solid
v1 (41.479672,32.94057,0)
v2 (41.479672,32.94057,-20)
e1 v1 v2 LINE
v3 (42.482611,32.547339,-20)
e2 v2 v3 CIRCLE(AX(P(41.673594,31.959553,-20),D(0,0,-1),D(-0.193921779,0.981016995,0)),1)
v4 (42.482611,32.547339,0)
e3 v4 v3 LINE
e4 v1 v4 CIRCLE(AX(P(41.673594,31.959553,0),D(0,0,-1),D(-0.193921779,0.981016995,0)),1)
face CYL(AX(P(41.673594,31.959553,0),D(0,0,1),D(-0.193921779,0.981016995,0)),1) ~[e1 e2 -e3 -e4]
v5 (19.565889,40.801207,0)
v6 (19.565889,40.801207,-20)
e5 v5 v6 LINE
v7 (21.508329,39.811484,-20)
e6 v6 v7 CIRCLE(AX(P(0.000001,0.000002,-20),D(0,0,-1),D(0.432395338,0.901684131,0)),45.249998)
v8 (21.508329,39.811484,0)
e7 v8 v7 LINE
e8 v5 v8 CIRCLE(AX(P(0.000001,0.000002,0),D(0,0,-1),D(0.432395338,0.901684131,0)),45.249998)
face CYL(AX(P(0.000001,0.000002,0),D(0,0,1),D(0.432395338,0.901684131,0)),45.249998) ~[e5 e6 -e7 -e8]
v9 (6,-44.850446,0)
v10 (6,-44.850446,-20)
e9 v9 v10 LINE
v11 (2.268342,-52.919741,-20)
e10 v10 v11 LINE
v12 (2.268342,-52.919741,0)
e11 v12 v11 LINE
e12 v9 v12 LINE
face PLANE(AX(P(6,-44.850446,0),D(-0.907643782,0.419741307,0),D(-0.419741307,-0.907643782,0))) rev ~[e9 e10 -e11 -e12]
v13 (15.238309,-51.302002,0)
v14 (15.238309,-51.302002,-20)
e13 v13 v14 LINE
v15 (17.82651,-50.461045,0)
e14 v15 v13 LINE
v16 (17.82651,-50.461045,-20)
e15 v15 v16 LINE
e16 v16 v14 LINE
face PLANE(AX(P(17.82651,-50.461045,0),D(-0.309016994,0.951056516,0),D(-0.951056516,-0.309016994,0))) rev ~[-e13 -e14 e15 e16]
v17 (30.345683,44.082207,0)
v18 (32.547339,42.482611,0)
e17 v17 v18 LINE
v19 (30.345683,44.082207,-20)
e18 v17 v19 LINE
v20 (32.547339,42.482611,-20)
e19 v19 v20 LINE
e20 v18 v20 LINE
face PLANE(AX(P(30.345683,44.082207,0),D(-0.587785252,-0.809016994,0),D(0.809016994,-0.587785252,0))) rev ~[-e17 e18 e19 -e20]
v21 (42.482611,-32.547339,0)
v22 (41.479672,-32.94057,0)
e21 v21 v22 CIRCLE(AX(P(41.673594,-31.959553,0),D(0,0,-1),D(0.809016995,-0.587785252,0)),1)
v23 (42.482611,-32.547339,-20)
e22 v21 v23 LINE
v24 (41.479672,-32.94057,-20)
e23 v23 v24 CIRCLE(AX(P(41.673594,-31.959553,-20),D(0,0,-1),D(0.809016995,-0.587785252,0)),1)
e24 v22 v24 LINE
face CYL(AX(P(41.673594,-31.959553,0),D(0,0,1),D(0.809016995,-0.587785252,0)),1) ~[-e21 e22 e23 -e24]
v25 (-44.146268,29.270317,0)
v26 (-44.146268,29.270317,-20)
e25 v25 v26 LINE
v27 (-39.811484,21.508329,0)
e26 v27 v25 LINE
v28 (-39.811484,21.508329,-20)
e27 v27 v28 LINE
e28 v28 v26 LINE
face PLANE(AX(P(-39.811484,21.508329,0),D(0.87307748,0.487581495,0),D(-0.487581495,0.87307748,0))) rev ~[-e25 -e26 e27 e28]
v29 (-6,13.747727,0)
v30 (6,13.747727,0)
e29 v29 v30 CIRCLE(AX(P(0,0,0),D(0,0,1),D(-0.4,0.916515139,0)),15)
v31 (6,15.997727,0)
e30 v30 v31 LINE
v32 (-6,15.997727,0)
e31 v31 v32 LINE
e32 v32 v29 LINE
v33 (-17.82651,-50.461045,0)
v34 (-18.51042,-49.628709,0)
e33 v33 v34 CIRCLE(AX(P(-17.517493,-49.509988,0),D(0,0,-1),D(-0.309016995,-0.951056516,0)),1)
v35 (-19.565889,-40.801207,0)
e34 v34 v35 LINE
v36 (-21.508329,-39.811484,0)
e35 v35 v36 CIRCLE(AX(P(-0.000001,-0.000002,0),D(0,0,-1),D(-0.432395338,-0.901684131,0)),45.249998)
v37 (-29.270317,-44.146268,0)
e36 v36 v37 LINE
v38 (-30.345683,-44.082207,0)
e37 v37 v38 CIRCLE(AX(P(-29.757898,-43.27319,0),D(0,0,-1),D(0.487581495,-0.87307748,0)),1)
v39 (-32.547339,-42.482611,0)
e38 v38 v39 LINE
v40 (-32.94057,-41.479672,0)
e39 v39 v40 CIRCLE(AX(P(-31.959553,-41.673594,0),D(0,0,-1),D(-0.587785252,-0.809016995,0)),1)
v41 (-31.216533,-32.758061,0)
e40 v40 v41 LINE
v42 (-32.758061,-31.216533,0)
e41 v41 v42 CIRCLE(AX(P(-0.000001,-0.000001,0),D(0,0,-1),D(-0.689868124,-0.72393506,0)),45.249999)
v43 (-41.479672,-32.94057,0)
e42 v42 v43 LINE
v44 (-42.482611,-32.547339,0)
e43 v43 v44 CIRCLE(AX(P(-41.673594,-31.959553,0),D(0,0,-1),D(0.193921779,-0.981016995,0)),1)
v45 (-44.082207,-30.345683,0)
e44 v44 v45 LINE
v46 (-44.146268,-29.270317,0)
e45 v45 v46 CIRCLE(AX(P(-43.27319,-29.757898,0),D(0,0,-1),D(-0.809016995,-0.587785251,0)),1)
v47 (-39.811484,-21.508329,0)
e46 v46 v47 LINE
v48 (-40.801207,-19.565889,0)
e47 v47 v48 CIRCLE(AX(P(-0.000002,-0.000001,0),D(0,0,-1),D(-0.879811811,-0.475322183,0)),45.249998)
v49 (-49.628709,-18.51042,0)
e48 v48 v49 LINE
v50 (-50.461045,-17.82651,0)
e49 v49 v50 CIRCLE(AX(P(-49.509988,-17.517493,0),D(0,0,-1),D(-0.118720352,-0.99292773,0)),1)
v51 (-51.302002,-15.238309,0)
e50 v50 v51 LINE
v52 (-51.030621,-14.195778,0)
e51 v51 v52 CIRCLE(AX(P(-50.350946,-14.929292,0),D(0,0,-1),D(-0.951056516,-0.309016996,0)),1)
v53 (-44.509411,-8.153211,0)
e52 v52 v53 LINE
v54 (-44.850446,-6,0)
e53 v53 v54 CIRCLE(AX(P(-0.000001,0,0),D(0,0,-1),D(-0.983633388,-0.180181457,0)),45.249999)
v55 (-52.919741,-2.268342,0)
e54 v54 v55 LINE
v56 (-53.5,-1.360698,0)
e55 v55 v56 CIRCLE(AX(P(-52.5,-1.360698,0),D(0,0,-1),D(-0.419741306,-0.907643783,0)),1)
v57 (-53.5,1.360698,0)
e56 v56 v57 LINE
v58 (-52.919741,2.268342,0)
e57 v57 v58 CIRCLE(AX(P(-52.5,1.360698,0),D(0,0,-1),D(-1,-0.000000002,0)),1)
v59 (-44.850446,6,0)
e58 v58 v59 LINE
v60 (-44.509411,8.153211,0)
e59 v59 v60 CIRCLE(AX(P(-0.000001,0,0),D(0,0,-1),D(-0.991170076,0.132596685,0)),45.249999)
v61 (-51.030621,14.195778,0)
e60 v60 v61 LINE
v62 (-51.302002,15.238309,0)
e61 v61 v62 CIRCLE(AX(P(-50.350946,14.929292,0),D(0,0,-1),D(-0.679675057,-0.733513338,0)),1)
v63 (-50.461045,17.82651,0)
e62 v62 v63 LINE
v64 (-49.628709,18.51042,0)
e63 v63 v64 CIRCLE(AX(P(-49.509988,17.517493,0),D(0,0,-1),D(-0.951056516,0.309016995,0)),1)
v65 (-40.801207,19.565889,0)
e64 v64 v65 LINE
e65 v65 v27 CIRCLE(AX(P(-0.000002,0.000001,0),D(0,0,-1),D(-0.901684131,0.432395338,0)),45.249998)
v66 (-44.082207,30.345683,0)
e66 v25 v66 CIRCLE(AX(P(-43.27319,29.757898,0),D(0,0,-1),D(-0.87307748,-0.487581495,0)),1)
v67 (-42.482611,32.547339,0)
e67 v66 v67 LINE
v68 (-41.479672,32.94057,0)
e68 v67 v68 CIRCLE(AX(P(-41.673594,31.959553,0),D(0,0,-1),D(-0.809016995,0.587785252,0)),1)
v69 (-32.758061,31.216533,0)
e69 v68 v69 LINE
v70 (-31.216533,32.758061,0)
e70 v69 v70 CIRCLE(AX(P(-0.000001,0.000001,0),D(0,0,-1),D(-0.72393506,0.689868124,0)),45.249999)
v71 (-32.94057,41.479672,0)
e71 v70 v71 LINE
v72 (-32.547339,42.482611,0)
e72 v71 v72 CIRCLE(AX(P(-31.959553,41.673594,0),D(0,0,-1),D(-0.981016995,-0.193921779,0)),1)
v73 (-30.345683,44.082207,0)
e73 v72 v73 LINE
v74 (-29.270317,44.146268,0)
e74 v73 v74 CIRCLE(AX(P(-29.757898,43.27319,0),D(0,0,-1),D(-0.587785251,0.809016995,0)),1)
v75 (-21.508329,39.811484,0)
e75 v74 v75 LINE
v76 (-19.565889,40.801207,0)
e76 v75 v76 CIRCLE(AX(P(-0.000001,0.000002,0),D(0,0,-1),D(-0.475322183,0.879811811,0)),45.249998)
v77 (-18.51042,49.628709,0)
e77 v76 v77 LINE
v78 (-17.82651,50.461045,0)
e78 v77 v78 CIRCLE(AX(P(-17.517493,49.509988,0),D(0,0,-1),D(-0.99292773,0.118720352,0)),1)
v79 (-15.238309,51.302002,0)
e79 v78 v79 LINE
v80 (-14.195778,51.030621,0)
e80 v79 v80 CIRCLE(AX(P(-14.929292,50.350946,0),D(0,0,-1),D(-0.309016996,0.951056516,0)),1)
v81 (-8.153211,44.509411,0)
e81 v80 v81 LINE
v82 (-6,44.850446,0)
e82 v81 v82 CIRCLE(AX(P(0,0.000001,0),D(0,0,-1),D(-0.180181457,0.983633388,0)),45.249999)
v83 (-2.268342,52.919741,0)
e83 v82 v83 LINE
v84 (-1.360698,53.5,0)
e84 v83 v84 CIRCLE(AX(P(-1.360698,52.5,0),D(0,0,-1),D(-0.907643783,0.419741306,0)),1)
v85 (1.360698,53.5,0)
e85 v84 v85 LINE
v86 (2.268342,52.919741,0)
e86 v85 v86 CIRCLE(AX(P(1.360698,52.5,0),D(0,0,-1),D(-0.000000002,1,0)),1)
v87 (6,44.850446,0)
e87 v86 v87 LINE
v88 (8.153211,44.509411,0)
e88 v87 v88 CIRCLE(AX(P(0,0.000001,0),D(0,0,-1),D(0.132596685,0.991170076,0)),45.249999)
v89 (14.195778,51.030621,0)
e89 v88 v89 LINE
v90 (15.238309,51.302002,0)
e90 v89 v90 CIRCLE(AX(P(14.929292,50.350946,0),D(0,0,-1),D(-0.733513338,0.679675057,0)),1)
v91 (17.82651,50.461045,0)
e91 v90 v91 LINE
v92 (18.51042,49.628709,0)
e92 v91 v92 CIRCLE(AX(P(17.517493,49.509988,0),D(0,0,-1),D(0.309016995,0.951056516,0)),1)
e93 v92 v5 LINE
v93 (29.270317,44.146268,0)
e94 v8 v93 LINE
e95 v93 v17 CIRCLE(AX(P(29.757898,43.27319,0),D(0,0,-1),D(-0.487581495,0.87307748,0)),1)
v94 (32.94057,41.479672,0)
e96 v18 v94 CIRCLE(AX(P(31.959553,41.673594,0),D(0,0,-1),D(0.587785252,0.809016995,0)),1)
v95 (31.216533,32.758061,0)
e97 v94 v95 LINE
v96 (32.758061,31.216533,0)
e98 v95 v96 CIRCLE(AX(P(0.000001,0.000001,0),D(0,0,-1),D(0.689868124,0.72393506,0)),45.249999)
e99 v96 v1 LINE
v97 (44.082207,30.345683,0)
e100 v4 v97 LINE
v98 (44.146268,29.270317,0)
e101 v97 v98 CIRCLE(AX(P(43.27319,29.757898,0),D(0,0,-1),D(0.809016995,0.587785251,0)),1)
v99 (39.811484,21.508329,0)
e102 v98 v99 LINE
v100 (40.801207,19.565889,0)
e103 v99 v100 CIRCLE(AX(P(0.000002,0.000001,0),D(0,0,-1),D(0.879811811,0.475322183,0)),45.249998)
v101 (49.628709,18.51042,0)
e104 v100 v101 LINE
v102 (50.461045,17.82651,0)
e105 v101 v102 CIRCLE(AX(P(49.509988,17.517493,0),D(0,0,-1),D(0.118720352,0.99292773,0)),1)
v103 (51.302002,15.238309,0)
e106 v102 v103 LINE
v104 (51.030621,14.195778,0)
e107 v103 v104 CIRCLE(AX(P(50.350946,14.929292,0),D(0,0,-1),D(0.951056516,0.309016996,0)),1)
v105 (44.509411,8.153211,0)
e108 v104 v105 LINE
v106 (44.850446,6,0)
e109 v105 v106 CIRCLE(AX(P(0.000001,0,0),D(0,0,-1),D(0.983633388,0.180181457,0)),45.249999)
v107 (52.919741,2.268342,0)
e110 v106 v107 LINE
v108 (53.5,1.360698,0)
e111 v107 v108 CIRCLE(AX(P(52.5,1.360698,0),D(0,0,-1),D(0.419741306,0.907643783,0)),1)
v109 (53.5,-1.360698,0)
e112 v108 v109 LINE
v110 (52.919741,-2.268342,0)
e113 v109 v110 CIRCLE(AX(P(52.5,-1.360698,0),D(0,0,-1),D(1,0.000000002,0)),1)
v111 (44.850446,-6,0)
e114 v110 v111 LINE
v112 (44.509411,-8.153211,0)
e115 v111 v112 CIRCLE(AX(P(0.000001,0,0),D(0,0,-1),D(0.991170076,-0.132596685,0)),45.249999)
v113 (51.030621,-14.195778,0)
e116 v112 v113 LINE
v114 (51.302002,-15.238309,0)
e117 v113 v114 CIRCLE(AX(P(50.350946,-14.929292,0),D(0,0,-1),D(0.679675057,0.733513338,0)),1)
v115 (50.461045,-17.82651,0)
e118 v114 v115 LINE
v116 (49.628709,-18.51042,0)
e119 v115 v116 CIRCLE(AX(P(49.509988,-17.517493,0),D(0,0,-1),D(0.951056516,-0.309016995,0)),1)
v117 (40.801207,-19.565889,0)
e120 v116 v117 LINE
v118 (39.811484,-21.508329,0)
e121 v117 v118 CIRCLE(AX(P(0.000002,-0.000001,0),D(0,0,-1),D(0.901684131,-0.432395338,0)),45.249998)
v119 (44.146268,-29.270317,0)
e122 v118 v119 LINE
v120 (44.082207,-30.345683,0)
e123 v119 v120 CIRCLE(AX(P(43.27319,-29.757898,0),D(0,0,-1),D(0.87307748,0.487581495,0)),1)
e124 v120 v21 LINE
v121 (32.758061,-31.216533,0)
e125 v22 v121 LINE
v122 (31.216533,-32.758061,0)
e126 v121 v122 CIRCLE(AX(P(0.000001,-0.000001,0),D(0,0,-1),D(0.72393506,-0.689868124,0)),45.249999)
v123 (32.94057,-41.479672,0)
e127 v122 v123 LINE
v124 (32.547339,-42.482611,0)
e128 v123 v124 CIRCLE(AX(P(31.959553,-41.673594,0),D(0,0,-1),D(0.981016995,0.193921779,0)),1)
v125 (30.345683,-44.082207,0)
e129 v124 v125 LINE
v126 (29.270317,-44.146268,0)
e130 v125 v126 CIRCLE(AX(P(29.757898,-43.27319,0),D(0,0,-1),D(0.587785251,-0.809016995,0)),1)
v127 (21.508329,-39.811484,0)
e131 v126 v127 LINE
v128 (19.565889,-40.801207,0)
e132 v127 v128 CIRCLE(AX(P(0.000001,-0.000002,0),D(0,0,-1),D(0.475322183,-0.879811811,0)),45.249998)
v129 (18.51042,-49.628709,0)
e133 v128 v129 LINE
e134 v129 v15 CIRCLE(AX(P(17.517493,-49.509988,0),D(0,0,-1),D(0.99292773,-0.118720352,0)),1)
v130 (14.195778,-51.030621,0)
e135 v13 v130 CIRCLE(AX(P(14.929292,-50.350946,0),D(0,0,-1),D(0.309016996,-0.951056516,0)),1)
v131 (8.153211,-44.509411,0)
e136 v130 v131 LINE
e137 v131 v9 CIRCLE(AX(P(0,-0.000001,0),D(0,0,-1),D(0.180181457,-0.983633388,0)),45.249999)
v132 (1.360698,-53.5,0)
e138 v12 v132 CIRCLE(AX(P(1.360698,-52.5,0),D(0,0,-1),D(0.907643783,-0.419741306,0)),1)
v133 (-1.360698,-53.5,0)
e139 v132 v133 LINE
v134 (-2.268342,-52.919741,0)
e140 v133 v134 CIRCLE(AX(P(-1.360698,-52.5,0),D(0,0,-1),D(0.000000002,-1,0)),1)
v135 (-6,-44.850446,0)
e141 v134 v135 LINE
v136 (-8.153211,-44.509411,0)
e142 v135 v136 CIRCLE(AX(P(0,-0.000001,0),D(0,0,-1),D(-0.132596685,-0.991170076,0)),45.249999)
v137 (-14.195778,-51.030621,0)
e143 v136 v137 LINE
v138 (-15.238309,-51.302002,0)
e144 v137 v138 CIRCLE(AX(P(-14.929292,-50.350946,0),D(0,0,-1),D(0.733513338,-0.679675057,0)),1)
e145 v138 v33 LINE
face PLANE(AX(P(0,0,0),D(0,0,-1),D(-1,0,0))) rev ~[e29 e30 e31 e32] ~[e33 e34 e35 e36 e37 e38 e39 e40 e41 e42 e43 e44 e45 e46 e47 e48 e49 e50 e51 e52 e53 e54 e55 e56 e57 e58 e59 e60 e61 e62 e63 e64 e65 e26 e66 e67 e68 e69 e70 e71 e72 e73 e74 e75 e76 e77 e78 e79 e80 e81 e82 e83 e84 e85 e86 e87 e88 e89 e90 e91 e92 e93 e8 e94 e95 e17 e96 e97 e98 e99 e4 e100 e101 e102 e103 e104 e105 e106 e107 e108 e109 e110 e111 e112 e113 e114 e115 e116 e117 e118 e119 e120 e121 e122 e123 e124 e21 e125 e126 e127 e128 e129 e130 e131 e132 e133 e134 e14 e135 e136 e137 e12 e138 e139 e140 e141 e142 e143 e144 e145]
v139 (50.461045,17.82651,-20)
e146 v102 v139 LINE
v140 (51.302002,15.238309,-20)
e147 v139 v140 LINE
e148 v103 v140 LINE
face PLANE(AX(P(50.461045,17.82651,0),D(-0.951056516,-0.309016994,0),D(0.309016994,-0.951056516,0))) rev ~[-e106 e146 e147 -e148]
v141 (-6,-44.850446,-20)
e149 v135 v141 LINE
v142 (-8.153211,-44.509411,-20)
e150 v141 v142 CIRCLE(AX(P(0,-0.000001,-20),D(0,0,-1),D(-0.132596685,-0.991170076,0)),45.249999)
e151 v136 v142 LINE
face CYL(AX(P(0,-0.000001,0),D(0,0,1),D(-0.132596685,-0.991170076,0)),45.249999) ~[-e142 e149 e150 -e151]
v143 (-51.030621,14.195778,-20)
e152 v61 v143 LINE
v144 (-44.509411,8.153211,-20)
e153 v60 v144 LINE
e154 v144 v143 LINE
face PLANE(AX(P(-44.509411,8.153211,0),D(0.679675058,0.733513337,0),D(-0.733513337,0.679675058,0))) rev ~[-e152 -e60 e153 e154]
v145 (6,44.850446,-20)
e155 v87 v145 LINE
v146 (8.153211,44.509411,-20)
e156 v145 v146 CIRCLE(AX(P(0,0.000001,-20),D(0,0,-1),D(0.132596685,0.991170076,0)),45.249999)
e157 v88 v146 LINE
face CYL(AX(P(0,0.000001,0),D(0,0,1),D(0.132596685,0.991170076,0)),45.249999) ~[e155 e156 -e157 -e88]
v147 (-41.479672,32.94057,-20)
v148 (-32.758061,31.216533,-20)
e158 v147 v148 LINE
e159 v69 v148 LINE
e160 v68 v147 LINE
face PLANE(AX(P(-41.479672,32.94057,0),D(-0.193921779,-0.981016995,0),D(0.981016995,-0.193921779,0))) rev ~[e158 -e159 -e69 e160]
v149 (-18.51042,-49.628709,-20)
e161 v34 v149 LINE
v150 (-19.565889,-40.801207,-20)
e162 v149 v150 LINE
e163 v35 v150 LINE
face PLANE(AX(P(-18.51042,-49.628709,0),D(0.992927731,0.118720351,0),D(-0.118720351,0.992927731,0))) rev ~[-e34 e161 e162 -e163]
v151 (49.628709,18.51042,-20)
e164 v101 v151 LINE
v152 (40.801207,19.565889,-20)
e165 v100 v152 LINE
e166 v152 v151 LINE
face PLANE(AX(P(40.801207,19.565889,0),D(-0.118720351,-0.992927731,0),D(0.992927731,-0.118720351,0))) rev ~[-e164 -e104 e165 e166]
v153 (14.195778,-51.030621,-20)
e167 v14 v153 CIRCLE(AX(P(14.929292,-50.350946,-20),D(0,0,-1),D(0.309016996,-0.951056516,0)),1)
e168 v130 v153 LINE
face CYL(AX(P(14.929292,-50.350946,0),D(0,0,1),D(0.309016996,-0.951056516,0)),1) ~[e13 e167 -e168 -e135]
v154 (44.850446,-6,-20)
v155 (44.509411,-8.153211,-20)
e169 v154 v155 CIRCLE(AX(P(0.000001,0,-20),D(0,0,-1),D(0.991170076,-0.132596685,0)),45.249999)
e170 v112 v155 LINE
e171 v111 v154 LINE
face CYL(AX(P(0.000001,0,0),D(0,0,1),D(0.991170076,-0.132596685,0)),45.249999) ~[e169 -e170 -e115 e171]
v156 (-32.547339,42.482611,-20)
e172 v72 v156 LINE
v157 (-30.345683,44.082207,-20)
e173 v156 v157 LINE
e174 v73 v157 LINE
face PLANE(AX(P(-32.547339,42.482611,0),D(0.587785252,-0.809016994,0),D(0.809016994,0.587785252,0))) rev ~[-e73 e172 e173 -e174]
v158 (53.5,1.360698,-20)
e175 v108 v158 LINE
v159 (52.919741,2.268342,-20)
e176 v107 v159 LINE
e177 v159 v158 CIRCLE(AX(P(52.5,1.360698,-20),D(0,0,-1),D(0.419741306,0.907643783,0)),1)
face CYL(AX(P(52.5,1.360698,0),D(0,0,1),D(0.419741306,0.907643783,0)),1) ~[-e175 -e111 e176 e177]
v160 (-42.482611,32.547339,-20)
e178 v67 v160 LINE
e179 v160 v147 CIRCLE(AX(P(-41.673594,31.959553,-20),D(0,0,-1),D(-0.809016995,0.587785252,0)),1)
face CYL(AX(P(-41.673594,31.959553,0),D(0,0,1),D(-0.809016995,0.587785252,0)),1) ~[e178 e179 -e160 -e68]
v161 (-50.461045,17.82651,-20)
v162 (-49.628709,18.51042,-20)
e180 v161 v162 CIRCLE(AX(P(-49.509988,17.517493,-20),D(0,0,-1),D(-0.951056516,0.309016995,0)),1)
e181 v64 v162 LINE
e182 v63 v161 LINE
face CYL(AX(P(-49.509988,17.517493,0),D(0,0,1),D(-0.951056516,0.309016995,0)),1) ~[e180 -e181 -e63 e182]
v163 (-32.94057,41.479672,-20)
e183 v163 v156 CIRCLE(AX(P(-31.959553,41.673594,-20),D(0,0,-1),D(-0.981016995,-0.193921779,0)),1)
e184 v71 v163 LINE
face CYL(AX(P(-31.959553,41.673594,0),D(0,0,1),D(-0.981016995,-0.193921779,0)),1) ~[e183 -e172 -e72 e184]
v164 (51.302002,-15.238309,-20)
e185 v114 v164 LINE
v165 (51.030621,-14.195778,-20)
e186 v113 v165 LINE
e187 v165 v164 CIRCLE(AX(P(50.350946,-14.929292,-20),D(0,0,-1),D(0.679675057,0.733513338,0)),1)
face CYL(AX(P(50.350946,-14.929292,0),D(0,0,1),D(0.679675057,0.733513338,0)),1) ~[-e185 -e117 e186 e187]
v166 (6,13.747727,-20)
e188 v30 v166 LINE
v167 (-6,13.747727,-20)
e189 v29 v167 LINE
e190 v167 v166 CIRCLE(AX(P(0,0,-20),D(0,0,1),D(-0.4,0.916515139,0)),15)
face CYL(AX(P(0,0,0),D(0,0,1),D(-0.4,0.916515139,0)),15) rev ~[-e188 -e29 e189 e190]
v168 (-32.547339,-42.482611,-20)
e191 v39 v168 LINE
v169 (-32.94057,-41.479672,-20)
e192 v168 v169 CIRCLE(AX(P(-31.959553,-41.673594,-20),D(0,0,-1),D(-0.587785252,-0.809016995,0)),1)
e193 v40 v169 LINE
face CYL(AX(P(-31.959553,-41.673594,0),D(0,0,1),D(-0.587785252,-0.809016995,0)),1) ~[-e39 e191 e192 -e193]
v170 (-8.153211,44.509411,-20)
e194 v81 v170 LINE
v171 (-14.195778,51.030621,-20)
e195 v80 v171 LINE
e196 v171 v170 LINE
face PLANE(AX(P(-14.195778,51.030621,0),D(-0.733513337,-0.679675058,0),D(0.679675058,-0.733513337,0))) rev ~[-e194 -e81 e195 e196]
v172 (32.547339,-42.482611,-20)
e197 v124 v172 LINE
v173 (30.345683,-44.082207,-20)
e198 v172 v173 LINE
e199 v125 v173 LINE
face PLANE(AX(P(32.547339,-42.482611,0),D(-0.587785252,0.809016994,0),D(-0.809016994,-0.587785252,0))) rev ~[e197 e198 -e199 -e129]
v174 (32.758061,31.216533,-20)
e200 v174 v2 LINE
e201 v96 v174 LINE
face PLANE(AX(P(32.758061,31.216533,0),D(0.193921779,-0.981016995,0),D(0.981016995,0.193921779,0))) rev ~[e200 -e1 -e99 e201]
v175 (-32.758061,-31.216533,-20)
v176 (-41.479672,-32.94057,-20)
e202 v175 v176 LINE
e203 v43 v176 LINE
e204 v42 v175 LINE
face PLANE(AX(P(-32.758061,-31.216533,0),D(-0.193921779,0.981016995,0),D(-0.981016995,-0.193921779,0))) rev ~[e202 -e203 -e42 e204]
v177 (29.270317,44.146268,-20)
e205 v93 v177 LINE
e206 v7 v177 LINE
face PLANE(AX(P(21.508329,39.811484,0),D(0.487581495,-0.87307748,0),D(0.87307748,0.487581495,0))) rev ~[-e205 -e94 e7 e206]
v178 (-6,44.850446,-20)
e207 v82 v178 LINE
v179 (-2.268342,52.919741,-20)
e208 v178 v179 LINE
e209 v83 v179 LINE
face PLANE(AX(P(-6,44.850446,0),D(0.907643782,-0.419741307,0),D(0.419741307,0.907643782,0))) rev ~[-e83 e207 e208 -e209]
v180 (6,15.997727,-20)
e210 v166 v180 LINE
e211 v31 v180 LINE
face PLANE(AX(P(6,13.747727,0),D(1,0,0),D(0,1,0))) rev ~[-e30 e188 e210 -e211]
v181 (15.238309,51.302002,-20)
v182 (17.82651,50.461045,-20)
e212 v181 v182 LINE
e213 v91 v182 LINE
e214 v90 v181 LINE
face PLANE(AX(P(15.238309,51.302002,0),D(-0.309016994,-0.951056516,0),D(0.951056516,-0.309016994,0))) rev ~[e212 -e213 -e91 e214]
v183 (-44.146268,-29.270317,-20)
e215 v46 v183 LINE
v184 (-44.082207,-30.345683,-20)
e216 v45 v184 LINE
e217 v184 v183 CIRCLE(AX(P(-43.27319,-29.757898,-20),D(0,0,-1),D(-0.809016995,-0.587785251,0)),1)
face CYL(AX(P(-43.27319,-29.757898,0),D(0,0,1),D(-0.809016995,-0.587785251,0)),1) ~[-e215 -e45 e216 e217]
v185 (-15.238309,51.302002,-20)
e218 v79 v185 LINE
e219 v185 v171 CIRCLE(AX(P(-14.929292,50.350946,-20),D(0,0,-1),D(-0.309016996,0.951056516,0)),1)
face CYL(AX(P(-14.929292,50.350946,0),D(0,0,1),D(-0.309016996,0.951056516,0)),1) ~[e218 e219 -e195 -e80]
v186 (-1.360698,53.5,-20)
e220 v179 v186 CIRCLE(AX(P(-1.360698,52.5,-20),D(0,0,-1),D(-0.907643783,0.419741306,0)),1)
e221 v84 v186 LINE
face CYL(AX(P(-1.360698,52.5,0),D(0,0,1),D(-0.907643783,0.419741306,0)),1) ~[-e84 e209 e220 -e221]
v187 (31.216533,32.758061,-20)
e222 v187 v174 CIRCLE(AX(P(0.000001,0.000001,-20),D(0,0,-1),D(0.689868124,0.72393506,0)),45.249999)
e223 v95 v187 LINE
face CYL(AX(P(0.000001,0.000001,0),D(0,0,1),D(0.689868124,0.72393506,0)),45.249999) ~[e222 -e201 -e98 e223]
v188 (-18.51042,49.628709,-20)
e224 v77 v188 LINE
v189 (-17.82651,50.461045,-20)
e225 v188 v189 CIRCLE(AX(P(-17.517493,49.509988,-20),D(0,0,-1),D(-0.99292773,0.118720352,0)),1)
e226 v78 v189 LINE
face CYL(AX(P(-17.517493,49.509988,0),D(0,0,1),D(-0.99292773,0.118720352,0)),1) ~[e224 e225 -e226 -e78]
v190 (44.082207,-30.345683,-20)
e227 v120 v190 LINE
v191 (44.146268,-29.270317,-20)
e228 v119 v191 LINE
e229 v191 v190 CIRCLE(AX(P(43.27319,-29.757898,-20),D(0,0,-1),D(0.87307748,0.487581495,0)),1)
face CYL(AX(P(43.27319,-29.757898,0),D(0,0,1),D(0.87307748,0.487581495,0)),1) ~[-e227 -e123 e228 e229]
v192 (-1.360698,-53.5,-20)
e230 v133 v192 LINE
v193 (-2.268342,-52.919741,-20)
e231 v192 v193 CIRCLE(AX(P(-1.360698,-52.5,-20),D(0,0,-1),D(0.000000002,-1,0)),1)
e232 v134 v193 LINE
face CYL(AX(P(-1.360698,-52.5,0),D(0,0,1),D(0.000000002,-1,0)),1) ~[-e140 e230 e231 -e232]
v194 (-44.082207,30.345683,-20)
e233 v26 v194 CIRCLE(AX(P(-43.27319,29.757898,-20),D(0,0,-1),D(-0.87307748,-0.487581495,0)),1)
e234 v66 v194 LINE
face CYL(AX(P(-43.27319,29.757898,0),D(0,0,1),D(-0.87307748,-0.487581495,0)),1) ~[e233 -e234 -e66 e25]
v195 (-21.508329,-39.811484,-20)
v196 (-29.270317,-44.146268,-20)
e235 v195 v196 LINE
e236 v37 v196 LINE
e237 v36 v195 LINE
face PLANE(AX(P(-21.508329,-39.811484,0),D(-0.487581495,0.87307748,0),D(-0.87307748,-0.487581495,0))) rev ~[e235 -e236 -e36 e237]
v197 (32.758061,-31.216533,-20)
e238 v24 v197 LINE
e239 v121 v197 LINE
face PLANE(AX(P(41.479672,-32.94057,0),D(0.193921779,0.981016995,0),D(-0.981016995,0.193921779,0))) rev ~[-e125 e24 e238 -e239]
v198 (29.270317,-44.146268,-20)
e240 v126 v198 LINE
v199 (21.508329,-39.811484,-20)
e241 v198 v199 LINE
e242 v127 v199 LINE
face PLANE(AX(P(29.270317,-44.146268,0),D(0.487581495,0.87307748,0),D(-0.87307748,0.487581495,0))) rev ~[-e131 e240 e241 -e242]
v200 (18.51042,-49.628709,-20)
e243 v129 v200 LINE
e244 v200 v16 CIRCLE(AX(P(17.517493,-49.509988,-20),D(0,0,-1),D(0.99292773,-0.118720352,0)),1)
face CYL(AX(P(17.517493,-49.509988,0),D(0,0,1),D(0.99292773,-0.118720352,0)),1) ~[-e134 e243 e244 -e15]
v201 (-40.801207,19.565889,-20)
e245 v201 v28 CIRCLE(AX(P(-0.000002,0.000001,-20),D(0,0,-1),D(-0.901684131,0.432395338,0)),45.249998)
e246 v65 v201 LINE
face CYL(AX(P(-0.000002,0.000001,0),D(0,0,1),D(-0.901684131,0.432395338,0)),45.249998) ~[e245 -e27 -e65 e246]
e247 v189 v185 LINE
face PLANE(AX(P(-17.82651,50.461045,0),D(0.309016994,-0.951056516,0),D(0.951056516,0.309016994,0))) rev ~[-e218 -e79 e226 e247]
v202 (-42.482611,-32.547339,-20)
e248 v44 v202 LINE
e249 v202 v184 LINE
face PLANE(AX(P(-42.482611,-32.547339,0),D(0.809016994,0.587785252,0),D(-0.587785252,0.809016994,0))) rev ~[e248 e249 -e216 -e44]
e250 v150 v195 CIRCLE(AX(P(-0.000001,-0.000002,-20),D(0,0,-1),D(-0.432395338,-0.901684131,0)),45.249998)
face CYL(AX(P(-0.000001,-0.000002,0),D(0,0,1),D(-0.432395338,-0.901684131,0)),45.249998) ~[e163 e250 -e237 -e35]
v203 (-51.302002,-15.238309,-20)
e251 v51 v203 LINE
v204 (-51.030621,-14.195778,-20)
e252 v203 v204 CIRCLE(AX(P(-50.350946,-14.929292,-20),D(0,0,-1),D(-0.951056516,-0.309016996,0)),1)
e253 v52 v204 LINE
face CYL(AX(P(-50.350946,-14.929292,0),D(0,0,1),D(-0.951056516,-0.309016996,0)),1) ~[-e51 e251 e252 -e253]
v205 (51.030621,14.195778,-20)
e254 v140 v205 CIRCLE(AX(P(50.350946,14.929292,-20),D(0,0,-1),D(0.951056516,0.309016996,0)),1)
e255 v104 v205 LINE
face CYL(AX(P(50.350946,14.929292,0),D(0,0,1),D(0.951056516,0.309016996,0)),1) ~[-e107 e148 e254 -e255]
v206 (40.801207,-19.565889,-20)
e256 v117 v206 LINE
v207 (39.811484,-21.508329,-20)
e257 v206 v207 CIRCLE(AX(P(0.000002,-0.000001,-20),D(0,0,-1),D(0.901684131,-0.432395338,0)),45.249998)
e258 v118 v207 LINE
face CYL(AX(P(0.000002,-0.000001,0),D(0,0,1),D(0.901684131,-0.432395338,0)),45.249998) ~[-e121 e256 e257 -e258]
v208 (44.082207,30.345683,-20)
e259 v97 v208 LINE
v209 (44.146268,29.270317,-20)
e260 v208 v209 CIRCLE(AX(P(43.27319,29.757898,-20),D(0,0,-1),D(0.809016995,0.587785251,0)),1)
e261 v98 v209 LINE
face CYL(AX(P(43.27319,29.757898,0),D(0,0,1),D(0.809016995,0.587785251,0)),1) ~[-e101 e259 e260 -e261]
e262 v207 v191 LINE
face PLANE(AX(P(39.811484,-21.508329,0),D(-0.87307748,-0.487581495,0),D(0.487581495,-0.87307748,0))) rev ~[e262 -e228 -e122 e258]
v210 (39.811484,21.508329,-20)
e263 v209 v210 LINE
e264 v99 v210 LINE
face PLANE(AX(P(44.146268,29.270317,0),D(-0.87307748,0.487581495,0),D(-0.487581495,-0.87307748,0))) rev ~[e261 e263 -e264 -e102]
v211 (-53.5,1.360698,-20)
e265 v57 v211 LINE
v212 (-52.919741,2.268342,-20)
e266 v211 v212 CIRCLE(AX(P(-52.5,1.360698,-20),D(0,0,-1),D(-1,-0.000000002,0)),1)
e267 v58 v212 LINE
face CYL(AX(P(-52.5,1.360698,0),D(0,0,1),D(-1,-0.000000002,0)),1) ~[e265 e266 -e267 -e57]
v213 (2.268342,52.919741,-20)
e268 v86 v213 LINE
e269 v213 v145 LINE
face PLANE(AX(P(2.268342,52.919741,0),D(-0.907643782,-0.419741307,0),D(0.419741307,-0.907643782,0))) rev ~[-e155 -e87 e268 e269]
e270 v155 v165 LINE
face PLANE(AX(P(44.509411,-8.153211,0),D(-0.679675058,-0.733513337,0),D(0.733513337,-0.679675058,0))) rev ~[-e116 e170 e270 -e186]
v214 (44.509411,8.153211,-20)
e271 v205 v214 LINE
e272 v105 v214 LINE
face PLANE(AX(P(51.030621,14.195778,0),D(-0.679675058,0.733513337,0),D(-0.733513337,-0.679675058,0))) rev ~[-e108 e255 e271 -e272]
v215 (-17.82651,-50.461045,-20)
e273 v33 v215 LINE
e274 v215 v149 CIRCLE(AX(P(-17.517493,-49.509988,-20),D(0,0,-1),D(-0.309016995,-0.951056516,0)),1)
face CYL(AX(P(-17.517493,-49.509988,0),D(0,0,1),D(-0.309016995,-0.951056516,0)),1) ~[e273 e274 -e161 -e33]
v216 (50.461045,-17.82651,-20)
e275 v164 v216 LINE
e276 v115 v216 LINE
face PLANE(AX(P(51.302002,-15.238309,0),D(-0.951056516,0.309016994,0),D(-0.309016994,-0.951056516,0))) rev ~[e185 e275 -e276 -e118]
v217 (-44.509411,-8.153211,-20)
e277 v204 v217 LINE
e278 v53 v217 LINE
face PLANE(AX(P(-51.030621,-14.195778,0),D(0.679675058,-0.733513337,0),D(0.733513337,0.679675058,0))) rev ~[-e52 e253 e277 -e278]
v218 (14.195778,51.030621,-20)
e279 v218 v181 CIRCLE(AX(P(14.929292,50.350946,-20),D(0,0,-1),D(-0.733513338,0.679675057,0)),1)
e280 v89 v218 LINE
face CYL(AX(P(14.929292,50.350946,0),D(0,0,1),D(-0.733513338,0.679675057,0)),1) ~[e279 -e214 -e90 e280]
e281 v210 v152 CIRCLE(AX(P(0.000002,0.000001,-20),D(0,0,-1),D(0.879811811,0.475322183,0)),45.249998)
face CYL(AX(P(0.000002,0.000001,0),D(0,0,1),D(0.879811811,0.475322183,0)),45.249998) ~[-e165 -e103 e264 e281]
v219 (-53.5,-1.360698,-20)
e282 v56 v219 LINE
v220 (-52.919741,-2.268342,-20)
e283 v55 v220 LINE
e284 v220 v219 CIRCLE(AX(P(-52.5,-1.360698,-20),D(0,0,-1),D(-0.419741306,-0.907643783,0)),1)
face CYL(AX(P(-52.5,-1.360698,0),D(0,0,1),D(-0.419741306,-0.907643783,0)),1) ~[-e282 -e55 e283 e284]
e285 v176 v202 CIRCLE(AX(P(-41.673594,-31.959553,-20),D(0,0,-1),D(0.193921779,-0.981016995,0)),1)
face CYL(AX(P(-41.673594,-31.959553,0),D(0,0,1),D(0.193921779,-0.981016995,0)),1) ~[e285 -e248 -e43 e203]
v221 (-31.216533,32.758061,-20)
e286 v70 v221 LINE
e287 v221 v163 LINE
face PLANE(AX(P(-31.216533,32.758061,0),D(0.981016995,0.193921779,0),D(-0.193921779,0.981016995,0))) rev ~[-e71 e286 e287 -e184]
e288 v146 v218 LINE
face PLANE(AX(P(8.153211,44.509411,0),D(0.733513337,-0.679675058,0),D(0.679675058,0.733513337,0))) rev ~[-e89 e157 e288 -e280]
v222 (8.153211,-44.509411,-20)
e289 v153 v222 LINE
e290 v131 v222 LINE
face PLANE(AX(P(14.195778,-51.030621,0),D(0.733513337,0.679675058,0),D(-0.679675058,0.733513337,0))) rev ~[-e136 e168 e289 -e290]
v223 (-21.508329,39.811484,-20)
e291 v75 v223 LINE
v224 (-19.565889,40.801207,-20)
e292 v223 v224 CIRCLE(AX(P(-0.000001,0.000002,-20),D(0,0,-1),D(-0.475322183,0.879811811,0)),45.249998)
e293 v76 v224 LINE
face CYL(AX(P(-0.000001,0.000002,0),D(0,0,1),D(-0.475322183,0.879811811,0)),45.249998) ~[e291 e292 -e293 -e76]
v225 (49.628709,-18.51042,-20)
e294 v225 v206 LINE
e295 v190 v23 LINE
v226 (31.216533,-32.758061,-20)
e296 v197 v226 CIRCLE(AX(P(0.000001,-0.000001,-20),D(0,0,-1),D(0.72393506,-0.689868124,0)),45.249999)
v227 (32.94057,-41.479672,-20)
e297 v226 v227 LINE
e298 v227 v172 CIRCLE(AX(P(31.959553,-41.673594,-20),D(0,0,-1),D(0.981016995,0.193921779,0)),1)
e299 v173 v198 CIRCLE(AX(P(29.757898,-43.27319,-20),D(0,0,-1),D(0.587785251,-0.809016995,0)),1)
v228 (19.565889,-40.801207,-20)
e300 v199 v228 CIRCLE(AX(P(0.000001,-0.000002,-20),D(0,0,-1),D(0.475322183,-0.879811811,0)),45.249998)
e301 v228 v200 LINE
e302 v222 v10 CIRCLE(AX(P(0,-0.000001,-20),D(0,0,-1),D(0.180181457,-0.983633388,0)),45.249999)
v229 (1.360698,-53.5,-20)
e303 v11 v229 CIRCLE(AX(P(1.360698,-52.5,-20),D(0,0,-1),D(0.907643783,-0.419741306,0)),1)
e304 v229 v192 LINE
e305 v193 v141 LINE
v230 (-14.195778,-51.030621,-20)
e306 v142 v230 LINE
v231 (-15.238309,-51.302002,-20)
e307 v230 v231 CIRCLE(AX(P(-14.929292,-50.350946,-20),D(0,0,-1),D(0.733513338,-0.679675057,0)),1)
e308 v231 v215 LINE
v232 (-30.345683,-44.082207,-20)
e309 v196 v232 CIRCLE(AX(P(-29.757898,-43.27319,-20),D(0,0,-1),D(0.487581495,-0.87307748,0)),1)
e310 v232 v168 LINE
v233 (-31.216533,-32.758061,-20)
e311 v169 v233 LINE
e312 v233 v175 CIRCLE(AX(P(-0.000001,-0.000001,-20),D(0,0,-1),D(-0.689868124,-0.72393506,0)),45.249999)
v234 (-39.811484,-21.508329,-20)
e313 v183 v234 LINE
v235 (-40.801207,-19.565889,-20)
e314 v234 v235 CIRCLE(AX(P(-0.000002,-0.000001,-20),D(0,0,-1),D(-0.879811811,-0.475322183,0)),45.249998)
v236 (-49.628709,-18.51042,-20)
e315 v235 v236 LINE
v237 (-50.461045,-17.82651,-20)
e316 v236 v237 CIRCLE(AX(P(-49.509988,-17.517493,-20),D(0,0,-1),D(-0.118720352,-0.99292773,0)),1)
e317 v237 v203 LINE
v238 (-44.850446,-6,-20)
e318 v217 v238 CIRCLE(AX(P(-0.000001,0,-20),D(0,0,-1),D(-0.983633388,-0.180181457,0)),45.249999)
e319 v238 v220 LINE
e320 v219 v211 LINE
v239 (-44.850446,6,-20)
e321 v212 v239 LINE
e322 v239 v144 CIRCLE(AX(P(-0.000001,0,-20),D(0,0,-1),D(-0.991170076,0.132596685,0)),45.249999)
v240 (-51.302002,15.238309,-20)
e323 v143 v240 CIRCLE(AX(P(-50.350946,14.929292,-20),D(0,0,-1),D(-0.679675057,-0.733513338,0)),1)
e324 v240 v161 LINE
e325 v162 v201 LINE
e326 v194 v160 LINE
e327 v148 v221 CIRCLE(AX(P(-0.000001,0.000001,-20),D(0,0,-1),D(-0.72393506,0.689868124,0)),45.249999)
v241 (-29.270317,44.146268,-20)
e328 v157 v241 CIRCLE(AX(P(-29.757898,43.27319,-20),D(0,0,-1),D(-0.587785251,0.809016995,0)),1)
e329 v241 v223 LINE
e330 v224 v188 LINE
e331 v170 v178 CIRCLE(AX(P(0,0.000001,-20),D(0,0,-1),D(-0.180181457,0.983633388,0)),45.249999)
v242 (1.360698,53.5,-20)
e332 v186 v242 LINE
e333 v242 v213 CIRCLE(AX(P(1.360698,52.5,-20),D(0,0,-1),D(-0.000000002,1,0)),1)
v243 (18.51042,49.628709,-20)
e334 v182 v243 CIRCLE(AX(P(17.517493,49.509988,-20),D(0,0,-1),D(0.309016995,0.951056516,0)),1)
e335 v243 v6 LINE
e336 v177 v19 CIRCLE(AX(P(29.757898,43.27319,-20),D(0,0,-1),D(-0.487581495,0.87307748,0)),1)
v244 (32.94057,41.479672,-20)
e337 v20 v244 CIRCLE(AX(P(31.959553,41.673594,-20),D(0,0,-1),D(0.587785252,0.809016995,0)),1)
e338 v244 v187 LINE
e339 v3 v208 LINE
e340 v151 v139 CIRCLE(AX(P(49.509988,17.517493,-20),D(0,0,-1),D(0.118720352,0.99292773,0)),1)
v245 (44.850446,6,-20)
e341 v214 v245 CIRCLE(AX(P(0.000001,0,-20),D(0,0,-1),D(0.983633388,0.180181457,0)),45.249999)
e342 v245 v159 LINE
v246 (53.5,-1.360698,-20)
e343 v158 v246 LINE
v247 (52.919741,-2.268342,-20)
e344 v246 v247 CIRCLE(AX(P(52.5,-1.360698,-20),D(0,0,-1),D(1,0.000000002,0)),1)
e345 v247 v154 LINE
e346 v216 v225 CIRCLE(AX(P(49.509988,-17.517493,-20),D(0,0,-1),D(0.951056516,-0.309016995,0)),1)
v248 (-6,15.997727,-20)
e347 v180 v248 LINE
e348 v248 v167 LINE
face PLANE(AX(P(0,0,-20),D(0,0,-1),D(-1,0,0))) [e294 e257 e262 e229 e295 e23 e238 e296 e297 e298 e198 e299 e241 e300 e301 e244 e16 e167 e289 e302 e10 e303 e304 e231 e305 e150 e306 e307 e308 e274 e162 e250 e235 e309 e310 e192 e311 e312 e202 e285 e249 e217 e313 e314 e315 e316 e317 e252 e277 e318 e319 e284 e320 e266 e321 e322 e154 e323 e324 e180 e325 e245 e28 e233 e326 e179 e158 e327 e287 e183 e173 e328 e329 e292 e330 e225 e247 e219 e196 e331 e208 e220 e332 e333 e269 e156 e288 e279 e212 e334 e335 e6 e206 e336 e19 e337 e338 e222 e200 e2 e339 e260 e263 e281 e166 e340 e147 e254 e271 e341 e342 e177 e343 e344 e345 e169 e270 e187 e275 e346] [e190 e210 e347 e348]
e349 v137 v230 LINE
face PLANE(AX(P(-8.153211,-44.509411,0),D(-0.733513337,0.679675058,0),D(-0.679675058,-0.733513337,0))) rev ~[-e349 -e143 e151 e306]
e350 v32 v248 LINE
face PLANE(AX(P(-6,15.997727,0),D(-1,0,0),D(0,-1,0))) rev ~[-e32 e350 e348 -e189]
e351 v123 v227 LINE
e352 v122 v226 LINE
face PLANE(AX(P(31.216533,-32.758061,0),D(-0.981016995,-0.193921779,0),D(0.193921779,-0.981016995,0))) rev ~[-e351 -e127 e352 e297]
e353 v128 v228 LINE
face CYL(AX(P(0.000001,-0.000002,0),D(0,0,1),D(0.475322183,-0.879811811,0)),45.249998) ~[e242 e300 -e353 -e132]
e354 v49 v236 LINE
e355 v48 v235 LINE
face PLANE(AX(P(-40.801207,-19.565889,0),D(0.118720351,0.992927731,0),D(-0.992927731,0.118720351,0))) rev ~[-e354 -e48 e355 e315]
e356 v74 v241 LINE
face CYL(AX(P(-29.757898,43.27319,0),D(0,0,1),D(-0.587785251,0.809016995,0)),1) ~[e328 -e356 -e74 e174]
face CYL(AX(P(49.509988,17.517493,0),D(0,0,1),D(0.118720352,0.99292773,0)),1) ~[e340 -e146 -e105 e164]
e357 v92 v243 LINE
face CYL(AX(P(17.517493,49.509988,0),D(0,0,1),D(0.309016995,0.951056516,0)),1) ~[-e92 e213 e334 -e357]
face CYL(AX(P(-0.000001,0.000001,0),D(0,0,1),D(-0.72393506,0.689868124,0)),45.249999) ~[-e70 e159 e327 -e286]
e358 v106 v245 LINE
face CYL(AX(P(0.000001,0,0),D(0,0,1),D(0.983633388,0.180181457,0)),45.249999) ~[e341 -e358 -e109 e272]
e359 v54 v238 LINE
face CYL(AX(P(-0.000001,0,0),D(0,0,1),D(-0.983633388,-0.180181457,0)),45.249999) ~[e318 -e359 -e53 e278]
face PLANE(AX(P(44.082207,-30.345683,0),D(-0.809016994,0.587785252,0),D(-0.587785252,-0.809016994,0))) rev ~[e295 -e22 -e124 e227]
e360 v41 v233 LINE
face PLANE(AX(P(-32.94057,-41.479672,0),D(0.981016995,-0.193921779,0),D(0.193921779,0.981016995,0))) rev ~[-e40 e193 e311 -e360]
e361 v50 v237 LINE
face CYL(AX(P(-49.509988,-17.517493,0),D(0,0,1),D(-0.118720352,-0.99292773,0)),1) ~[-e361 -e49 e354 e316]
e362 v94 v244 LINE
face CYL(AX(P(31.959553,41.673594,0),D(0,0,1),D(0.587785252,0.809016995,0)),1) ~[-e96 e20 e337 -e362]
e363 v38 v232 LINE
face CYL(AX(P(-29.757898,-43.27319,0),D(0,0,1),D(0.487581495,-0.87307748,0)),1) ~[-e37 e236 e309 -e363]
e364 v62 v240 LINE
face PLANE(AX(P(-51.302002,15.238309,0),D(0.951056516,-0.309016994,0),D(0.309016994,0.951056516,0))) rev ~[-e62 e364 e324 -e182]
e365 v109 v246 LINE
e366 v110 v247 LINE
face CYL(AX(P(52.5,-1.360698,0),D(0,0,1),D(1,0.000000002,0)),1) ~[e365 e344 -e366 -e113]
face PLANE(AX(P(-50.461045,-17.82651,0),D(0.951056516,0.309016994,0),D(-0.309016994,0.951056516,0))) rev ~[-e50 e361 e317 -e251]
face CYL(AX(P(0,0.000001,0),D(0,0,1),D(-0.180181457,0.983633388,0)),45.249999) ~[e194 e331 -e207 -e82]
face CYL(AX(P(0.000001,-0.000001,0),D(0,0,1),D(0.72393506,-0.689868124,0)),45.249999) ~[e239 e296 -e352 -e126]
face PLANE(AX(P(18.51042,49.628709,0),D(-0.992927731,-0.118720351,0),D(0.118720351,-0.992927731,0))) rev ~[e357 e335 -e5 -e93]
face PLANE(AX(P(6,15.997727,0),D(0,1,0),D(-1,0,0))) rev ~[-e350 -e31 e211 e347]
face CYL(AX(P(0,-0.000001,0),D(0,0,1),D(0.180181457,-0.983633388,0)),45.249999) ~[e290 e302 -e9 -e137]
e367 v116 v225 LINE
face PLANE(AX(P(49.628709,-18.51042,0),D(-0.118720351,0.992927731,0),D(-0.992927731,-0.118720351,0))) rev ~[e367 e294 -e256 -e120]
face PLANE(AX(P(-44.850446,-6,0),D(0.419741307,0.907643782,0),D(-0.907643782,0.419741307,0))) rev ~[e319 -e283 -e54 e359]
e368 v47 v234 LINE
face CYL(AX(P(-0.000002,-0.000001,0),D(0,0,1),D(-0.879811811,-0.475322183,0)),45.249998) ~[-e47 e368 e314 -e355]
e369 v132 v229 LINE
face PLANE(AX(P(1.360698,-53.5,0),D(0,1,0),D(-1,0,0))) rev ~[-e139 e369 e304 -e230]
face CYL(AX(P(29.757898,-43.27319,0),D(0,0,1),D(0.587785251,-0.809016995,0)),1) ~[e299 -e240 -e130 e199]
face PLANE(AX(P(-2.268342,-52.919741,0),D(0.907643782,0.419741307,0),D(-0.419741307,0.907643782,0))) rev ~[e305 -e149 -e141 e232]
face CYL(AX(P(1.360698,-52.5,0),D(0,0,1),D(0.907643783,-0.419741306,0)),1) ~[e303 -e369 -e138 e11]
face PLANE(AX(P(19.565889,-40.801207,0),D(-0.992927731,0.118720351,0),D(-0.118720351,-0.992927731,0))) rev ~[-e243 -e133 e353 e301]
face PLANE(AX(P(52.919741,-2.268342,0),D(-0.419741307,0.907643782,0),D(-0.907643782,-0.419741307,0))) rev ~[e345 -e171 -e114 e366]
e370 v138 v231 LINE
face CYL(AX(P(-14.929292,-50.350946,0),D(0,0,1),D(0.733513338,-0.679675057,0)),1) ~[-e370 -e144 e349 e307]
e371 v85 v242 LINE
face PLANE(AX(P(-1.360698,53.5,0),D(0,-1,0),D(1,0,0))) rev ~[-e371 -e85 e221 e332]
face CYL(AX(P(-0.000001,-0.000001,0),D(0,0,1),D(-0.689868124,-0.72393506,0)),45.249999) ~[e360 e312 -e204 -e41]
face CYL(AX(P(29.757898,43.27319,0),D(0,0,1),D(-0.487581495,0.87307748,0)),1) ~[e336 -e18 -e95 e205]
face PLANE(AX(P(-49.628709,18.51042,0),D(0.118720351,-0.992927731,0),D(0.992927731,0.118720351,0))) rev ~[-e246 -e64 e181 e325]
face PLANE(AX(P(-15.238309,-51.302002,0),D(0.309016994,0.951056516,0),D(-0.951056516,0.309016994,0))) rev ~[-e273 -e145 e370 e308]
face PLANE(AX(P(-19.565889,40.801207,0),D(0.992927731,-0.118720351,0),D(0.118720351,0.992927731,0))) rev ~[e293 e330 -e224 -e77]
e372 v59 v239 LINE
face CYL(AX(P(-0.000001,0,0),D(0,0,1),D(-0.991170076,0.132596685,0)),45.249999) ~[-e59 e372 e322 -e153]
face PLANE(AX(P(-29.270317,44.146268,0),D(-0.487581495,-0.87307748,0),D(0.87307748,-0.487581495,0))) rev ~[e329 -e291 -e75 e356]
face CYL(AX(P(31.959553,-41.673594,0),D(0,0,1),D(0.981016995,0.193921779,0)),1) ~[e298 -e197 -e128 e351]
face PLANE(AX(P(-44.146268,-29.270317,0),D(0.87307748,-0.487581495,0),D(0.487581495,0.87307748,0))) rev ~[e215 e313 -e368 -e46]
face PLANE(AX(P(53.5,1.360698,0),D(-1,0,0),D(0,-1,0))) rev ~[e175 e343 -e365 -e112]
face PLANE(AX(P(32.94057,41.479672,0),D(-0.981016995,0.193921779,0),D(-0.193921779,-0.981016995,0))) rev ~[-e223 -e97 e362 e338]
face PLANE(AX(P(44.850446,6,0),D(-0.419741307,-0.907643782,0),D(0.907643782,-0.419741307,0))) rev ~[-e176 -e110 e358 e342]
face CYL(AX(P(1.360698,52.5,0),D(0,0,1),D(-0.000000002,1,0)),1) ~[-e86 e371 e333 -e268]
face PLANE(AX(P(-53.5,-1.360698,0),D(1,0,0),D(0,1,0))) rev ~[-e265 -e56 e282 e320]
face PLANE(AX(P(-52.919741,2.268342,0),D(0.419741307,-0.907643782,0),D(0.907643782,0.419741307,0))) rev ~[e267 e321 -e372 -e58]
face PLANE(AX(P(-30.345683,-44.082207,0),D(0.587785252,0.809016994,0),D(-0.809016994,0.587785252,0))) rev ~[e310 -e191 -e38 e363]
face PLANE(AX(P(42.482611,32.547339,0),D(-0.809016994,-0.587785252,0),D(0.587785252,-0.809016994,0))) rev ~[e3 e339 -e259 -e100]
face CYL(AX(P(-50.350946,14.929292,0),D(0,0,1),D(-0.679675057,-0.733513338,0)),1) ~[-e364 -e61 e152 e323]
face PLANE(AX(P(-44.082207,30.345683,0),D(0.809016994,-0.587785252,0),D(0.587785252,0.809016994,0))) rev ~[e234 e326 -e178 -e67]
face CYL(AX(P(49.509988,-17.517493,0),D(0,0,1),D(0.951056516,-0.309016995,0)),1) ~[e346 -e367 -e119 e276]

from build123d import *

# Parameters (mm, degrees)
BOSS_EXTRUDE1_DEPTH = 20


with BuildPart() as part:
    # Sketch1 → Boss-Extrude1 (new body)
    with BuildSketch(Plane.XY):
        with BuildLine():
            Line((-1.360697771, 53.5), (1.360697771, 53.5))
            ThreePointArc((1.360697771, 53.5), (1.899334334, 53.342538221), (2.268341553, 52.919741307))
            Line((2.268341553, 52.919741307), (6, 44.850445929))
            ThreePointArc((6, 44.850445929), (7.078659543, 44.692897412), (8.153210899, 44.509410825))
            Line((8.153210899, 44.509410825), (14.195778386, 51.030620899))
            ThreePointArc((14.195778386, 51.030620899), (14.677376539, 51.318695158), (15.238308717, 51.302002357))
            Line((15.238308717, 51.302002357), (17.826509681, 50.461044886))
            ThreePointArc((17.826509681, 50.461044886), (18.290125128, 50.144841983), (18.510420417, 49.628708722))
            Line((18.510420417, 49.628708722), (19.565889095, 40.801206893))
            ThreePointArc((19.565889095, 40.801206893), (20.543070113, 40.31804522), (21.508328709, 39.811484475))
            Line((21.508328709, 39.811484475), (29.27031663, 44.146267767))
            ThreePointArc((29.27031663, 44.146267767), (29.817363532, 44.271420654), (30.345683377, 44.082207282))
            Line((30.345683377, 44.082207282), (32.547338618, 42.482611117))
            ThreePointArc((32.547338618, 42.482611117), (32.89055104, 42.038619233), (32.940570361, 41.479672343))
            Line((32.940570361, 41.479672343), (31.216532642, 32.758061448))
            ThreePointArc((31.216532642, 32.758061448), (31.996581849, 31.996581849), (32.758061448, 31.216532642))
            Line((32.758061448, 31.216532642), (41.479672343, 32.940570361))
            ThreePointArc((41.479672343, 32.940570361), (42.038619233, 32.89055104), (42.482611117, 32.547338618))
            Line((42.482611117, 32.547338618), (44.082207282, 30.345683377))
            ThreePointArc((44.082207282, 30.345683377), (44.271420654, 29.817363532), (44.146267767, 29.27031663))
            Line((44.146267767, 29.27031663), (39.811484475, 21.508328709))
            ThreePointArc((39.811484475, 21.508328709), (40.31804522, 20.543070113), (40.801206893, 19.565889095))
            Line((40.801206893, 19.565889095), (49.628708722, 18.510420417))
            ThreePointArc((49.628708722, 18.510420417), (50.144841983, 18.290125128), (50.461044886, 17.826509681))
            Line((50.461044886, 17.826509681), (51.302002357, 15.238308717))
            ThreePointArc((51.302002357, 15.238308717), (51.318695158, 14.677376539), (51.030620899, 14.195778386))
            Line((51.030620899, 14.195778386), (44.509410825, 8.153210899))
            ThreePointArc((44.509410825, 8.153210899), (44.692897412, 7.078659543), (44.850445929, 6))
            Line((44.850445929, 6), (52.919741307, 2.268341553))
            ThreePointArc((52.919741307, 2.268341553), (53.342538221, 1.899334334), (53.5, 1.360697771))
            Line((53.5, 1.360697771), (53.5, -1.360697771))
            ThreePointArc((53.5, -1.360697771), (53.342538221, -1.899334334), (52.919741307, -2.268341553))
            Line((52.919741307, -2.268341553), (44.850445929, -6))
            ThreePointArc((44.850445929, -6), (44.692897412, -7.078659543), (44.509410825, -8.153210899))
            Line((44.509410825, -8.153210899), (51.030620899, -14.195778386))
            ThreePointArc((51.030620899, -14.195778386), (51.318695158, -14.677376539), (51.302002357, -15.238308717))
            Line((51.302002357, -15.238308717), (50.461044886, -17.826509681))
            ThreePointArc((50.461044886, -17.826509681), (50.144841983, -18.290125128), (49.628708722, -18.510420417))
            Line((49.628708722, -18.510420417), (40.801206893, -19.565889095))
            ThreePointArc((40.801206893, -19.565889095), (40.31804522, -20.543070113), (39.811484475, -21.508328709))
            Line((39.811484475, -21.508328709), (44.146267767, -29.27031663))
            ThreePointArc((44.146267767, -29.27031663), (44.271420654, -29.817363532), (44.082207282, -30.345683377))
            Line((44.082207282, -30.345683377), (42.482611117, -32.547338618))
            ThreePointArc((42.482611117, -32.547338618), (42.038619233, -32.89055104), (41.479672343, -32.940570361))
            Line((41.479672343, -32.940570361), (32.758061448, -31.216532642))
            ThreePointArc((32.758061448, -31.216532642), (31.996581849, -31.996581849), (31.216532642, -32.758061448))
            Line((31.216532642, -32.758061448), (32.940570361, -41.479672343))
            ThreePointArc((32.940570361, -41.479672343), (32.89055104, -42.038619233), (32.547338618, -42.482611117))
            Line((32.547338618, -42.482611117), (30.345683377, -44.082207282))
            ThreePointArc((30.345683377, -44.082207282), (29.817363532, -44.271420654), (29.27031663, -44.146267767))
            Line((29.27031663, -44.146267767), (21.508328709, -39.811484475))
            ThreePointArc((21.508328709, -39.811484475), (20.543070113, -40.31804522), (19.565889095, -40.801206893))
            Line((19.565889095, -40.801206893), (18.510420417, -49.628708722))
            ThreePointArc((18.510420417, -49.628708722), (18.290125128, -50.144841983), (17.826509681, -50.461044886))
            Line((17.826509681, -50.461044886), (15.238308717, -51.302002357))
            ThreePointArc((15.238308717, -51.302002357), (14.677376539, -51.318695158), (14.195778386, -51.030620899))
            Line((14.195778386, -51.030620899), (8.153210899, -44.509410825))
            ThreePointArc((8.153210899, -44.509410825), (7.078659543, -44.692897412), (6, -44.850445929))
            Line((6, -44.850445929), (2.268341553, -52.919741307))
            ThreePointArc((2.268341553, -52.919741307), (1.899334334, -53.342538221), (1.360697771, -53.5))
            Line((1.360697771, -53.5), (-1.360697771, -53.5))
            ThreePointArc((-1.360697771, -53.5), (-1.899334334, -53.342538221), (-2.268341553, -52.919741307))
            Line((-2.268341553, -52.919741307), (-6, -44.850445929))
            ThreePointArc((-6, -44.850445929), (-7.078659543, -44.692897412), (-8.153210899, -44.509410825))
            Line((-8.153210899, -44.509410825), (-14.195778386, -51.030620899))
            ThreePointArc((-14.195778386, -51.030620899), (-14.677376539, -51.318695158), (-15.238308717, -51.302002357))
            Line((-15.238308717, -51.302002357), (-17.826509681, -50.461044886))
            ThreePointArc((-17.826509681, -50.461044886), (-18.290125128, -50.144841983), (-18.510420417, -49.628708722))
            Line((-18.510420417, -49.628708722), (-19.565889095, -40.801206893))
            ThreePointArc((-19.565889095, -40.801206893), (-20.543070113, -40.31804522), (-21.508328709, -39.811484475))
            Line((-21.508328709, -39.811484475), (-29.27031663, -44.146267767))
            ThreePointArc((-29.27031663, -44.146267767), (-29.817363532, -44.271420654), (-30.345683377, -44.082207282))
            Line((-30.345683377, -44.082207282), (-32.547338618, -42.482611117))
            ThreePointArc((-32.547338618, -42.482611117), (-32.89055104, -42.038619233), (-32.940570361, -41.479672343))
            Line((-32.940570361, -41.479672343), (-31.216532642, -32.758061448))
            ThreePointArc((-31.216532642, -32.758061448), (-31.996581849, -31.996581849), (-32.758061448, -31.216532642))
            Line((-32.758061448, -31.216532642), (-41.479672343, -32.940570361))
            ThreePointArc((-41.479672343, -32.940570361), (-42.038619233, -32.89055104), (-42.482611117, -32.547338618))
            Line((-42.482611117, -32.547338618), (-44.082207282, -30.345683377))
            ThreePointArc((-44.082207282, -30.345683377), (-44.271420654, -29.817363532), (-44.146267767, -29.27031663))
            Line((-44.146267767, -29.27031663), (-39.811484475, -21.508328709))
            ThreePointArc((-39.811484475, -21.508328709), (-40.31804522, -20.543070113), (-40.801206893, -19.565889095))
            Line((-40.801206893, -19.565889095), (-49.628708722, -18.510420417))
            ThreePointArc((-49.628708722, -18.510420417), (-50.144841983, -18.290125128), (-50.461044886, -17.826509681))
            Line((-50.461044886, -17.826509681), (-51.302002357, -15.238308717))
            ThreePointArc((-51.302002357, -15.238308717), (-51.318695158, -14.677376539), (-51.030620899, -14.195778386))
            Line((-51.030620899, -14.195778386), (-44.509410825, -8.153210899))
            ThreePointArc((-44.509410825, -8.153210899), (-44.692897412, -7.078659543), (-44.850445929, -6))
            Line((-44.850445929, -6), (-52.919741307, -2.268341553))
            ThreePointArc((-52.919741307, -2.268341553), (-53.342538221, -1.899334334), (-53.5, -1.360697771))
            Line((-53.5, -1.360697771), (-53.5, 1.360697771))
            ThreePointArc((-53.5, 1.360697771), (-53.342538221, 1.899334334), (-52.919741307, 2.268341553))
            Line((-52.919741307, 2.268341553), (-44.850445929, 6))
            ThreePointArc((-44.850445929, 6), (-44.692897412, 7.078659543), (-44.509410825, 8.153210899))
            Line((-44.509410825, 8.153210899), (-51.030620899, 14.195778386))
            ThreePointArc((-51.030620899, 14.195778386), (-51.318695158, 14.677376539), (-51.302002357, 15.238308717))
            Line((-51.302002357, 15.238308717), (-50.461044886, 17.826509681))
            ThreePointArc((-50.461044886, 17.826509681), (-50.144841983, 18.290125128), (-49.628708722, 18.510420417))
            Line((-49.628708722, 18.510420417), (-40.801206893, 19.565889095))
            ThreePointArc((-40.801206893, 19.565889095), (-40.31804522, 20.543070113), (-39.811484475, 21.508328709))
            Line((-39.811484475, 21.508328709), (-44.146267767, 29.27031663))
            ThreePointArc((-44.146267767, 29.27031663), (-44.271420654, 29.817363532), (-44.082207282, 30.345683377))
            Line((-44.082207282, 30.345683377), (-42.482611117, 32.547338618))
            ThreePointArc((-42.482611117, 32.547338618), (-42.038619233, 32.89055104), (-41.479672343, 32.940570361))
            Line((-41.479672343, 32.940570361), (-32.758061448, 31.216532642))
            ThreePointArc((-32.758061448, 31.216532642), (-31.996581849, 31.996581849), (-31.216532642, 32.758061448))
            Line((-31.216532642, 32.758061448), (-32.940570361, 41.479672343))
            ThreePointArc((-32.940570361, 41.479672343), (-32.89055104, 42.038619233), (-32.547338618, 42.482611117))
            Line((-32.547338618, 42.482611117), (-30.345683377, 44.082207282))
            ThreePointArc((-30.345683377, 44.082207282), (-29.817363532, 44.271420654), (-29.27031663, 44.146267767))
            Line((-29.27031663, 44.146267767), (-21.508328709, 39.811484475))
            ThreePointArc((-21.508328709, 39.811484475), (-20.543070113, 40.31804522), (-19.565889095, 40.801206893))
            Line((-19.565889095, 40.801206893), (-18.510420417, 49.628708722))
            ThreePointArc((-18.510420417, 49.628708722), (-18.290125128, 50.144841983), (-17.826509681, 50.461044886))
            Line((-17.826509681, 50.461044886), (-15.238308717, 51.302002357))
            ThreePointArc((-15.238308717, 51.302002357), (-14.677376539, 51.318695158), (-14.195778386, 51.030620899))
            Line((-14.195778386, 51.030620899), (-8.153210899, 44.509410825))
            ThreePointArc((-8.153210899, 44.509410825), (-7.078659543, 44.692897412), (-6, 44.850445929))
            Line((-6, 44.850445929), (-2.268341553, 52.919741307))
            ThreePointArc((-2.268341553, 52.919741307), (-1.899334334, 53.342538221), (-1.360697771, 53.5))
        make_face()
        with BuildLine():
            Line((6, 13.747727085), (6, 15.997727085))
            Line((6, 15.997727085), (-6, 15.997727085))
            Line((-6, 15.997727085), (-6, 13.747727085))
            ThreePointArc((-6, 13.747727085), (0, -15), (6, 13.747727085))
        make_face(mode=Mode.SUBTRACT)
    extrude(amount=-BOSS_EXTRUDE1_DEPTH)


solid = part.part
